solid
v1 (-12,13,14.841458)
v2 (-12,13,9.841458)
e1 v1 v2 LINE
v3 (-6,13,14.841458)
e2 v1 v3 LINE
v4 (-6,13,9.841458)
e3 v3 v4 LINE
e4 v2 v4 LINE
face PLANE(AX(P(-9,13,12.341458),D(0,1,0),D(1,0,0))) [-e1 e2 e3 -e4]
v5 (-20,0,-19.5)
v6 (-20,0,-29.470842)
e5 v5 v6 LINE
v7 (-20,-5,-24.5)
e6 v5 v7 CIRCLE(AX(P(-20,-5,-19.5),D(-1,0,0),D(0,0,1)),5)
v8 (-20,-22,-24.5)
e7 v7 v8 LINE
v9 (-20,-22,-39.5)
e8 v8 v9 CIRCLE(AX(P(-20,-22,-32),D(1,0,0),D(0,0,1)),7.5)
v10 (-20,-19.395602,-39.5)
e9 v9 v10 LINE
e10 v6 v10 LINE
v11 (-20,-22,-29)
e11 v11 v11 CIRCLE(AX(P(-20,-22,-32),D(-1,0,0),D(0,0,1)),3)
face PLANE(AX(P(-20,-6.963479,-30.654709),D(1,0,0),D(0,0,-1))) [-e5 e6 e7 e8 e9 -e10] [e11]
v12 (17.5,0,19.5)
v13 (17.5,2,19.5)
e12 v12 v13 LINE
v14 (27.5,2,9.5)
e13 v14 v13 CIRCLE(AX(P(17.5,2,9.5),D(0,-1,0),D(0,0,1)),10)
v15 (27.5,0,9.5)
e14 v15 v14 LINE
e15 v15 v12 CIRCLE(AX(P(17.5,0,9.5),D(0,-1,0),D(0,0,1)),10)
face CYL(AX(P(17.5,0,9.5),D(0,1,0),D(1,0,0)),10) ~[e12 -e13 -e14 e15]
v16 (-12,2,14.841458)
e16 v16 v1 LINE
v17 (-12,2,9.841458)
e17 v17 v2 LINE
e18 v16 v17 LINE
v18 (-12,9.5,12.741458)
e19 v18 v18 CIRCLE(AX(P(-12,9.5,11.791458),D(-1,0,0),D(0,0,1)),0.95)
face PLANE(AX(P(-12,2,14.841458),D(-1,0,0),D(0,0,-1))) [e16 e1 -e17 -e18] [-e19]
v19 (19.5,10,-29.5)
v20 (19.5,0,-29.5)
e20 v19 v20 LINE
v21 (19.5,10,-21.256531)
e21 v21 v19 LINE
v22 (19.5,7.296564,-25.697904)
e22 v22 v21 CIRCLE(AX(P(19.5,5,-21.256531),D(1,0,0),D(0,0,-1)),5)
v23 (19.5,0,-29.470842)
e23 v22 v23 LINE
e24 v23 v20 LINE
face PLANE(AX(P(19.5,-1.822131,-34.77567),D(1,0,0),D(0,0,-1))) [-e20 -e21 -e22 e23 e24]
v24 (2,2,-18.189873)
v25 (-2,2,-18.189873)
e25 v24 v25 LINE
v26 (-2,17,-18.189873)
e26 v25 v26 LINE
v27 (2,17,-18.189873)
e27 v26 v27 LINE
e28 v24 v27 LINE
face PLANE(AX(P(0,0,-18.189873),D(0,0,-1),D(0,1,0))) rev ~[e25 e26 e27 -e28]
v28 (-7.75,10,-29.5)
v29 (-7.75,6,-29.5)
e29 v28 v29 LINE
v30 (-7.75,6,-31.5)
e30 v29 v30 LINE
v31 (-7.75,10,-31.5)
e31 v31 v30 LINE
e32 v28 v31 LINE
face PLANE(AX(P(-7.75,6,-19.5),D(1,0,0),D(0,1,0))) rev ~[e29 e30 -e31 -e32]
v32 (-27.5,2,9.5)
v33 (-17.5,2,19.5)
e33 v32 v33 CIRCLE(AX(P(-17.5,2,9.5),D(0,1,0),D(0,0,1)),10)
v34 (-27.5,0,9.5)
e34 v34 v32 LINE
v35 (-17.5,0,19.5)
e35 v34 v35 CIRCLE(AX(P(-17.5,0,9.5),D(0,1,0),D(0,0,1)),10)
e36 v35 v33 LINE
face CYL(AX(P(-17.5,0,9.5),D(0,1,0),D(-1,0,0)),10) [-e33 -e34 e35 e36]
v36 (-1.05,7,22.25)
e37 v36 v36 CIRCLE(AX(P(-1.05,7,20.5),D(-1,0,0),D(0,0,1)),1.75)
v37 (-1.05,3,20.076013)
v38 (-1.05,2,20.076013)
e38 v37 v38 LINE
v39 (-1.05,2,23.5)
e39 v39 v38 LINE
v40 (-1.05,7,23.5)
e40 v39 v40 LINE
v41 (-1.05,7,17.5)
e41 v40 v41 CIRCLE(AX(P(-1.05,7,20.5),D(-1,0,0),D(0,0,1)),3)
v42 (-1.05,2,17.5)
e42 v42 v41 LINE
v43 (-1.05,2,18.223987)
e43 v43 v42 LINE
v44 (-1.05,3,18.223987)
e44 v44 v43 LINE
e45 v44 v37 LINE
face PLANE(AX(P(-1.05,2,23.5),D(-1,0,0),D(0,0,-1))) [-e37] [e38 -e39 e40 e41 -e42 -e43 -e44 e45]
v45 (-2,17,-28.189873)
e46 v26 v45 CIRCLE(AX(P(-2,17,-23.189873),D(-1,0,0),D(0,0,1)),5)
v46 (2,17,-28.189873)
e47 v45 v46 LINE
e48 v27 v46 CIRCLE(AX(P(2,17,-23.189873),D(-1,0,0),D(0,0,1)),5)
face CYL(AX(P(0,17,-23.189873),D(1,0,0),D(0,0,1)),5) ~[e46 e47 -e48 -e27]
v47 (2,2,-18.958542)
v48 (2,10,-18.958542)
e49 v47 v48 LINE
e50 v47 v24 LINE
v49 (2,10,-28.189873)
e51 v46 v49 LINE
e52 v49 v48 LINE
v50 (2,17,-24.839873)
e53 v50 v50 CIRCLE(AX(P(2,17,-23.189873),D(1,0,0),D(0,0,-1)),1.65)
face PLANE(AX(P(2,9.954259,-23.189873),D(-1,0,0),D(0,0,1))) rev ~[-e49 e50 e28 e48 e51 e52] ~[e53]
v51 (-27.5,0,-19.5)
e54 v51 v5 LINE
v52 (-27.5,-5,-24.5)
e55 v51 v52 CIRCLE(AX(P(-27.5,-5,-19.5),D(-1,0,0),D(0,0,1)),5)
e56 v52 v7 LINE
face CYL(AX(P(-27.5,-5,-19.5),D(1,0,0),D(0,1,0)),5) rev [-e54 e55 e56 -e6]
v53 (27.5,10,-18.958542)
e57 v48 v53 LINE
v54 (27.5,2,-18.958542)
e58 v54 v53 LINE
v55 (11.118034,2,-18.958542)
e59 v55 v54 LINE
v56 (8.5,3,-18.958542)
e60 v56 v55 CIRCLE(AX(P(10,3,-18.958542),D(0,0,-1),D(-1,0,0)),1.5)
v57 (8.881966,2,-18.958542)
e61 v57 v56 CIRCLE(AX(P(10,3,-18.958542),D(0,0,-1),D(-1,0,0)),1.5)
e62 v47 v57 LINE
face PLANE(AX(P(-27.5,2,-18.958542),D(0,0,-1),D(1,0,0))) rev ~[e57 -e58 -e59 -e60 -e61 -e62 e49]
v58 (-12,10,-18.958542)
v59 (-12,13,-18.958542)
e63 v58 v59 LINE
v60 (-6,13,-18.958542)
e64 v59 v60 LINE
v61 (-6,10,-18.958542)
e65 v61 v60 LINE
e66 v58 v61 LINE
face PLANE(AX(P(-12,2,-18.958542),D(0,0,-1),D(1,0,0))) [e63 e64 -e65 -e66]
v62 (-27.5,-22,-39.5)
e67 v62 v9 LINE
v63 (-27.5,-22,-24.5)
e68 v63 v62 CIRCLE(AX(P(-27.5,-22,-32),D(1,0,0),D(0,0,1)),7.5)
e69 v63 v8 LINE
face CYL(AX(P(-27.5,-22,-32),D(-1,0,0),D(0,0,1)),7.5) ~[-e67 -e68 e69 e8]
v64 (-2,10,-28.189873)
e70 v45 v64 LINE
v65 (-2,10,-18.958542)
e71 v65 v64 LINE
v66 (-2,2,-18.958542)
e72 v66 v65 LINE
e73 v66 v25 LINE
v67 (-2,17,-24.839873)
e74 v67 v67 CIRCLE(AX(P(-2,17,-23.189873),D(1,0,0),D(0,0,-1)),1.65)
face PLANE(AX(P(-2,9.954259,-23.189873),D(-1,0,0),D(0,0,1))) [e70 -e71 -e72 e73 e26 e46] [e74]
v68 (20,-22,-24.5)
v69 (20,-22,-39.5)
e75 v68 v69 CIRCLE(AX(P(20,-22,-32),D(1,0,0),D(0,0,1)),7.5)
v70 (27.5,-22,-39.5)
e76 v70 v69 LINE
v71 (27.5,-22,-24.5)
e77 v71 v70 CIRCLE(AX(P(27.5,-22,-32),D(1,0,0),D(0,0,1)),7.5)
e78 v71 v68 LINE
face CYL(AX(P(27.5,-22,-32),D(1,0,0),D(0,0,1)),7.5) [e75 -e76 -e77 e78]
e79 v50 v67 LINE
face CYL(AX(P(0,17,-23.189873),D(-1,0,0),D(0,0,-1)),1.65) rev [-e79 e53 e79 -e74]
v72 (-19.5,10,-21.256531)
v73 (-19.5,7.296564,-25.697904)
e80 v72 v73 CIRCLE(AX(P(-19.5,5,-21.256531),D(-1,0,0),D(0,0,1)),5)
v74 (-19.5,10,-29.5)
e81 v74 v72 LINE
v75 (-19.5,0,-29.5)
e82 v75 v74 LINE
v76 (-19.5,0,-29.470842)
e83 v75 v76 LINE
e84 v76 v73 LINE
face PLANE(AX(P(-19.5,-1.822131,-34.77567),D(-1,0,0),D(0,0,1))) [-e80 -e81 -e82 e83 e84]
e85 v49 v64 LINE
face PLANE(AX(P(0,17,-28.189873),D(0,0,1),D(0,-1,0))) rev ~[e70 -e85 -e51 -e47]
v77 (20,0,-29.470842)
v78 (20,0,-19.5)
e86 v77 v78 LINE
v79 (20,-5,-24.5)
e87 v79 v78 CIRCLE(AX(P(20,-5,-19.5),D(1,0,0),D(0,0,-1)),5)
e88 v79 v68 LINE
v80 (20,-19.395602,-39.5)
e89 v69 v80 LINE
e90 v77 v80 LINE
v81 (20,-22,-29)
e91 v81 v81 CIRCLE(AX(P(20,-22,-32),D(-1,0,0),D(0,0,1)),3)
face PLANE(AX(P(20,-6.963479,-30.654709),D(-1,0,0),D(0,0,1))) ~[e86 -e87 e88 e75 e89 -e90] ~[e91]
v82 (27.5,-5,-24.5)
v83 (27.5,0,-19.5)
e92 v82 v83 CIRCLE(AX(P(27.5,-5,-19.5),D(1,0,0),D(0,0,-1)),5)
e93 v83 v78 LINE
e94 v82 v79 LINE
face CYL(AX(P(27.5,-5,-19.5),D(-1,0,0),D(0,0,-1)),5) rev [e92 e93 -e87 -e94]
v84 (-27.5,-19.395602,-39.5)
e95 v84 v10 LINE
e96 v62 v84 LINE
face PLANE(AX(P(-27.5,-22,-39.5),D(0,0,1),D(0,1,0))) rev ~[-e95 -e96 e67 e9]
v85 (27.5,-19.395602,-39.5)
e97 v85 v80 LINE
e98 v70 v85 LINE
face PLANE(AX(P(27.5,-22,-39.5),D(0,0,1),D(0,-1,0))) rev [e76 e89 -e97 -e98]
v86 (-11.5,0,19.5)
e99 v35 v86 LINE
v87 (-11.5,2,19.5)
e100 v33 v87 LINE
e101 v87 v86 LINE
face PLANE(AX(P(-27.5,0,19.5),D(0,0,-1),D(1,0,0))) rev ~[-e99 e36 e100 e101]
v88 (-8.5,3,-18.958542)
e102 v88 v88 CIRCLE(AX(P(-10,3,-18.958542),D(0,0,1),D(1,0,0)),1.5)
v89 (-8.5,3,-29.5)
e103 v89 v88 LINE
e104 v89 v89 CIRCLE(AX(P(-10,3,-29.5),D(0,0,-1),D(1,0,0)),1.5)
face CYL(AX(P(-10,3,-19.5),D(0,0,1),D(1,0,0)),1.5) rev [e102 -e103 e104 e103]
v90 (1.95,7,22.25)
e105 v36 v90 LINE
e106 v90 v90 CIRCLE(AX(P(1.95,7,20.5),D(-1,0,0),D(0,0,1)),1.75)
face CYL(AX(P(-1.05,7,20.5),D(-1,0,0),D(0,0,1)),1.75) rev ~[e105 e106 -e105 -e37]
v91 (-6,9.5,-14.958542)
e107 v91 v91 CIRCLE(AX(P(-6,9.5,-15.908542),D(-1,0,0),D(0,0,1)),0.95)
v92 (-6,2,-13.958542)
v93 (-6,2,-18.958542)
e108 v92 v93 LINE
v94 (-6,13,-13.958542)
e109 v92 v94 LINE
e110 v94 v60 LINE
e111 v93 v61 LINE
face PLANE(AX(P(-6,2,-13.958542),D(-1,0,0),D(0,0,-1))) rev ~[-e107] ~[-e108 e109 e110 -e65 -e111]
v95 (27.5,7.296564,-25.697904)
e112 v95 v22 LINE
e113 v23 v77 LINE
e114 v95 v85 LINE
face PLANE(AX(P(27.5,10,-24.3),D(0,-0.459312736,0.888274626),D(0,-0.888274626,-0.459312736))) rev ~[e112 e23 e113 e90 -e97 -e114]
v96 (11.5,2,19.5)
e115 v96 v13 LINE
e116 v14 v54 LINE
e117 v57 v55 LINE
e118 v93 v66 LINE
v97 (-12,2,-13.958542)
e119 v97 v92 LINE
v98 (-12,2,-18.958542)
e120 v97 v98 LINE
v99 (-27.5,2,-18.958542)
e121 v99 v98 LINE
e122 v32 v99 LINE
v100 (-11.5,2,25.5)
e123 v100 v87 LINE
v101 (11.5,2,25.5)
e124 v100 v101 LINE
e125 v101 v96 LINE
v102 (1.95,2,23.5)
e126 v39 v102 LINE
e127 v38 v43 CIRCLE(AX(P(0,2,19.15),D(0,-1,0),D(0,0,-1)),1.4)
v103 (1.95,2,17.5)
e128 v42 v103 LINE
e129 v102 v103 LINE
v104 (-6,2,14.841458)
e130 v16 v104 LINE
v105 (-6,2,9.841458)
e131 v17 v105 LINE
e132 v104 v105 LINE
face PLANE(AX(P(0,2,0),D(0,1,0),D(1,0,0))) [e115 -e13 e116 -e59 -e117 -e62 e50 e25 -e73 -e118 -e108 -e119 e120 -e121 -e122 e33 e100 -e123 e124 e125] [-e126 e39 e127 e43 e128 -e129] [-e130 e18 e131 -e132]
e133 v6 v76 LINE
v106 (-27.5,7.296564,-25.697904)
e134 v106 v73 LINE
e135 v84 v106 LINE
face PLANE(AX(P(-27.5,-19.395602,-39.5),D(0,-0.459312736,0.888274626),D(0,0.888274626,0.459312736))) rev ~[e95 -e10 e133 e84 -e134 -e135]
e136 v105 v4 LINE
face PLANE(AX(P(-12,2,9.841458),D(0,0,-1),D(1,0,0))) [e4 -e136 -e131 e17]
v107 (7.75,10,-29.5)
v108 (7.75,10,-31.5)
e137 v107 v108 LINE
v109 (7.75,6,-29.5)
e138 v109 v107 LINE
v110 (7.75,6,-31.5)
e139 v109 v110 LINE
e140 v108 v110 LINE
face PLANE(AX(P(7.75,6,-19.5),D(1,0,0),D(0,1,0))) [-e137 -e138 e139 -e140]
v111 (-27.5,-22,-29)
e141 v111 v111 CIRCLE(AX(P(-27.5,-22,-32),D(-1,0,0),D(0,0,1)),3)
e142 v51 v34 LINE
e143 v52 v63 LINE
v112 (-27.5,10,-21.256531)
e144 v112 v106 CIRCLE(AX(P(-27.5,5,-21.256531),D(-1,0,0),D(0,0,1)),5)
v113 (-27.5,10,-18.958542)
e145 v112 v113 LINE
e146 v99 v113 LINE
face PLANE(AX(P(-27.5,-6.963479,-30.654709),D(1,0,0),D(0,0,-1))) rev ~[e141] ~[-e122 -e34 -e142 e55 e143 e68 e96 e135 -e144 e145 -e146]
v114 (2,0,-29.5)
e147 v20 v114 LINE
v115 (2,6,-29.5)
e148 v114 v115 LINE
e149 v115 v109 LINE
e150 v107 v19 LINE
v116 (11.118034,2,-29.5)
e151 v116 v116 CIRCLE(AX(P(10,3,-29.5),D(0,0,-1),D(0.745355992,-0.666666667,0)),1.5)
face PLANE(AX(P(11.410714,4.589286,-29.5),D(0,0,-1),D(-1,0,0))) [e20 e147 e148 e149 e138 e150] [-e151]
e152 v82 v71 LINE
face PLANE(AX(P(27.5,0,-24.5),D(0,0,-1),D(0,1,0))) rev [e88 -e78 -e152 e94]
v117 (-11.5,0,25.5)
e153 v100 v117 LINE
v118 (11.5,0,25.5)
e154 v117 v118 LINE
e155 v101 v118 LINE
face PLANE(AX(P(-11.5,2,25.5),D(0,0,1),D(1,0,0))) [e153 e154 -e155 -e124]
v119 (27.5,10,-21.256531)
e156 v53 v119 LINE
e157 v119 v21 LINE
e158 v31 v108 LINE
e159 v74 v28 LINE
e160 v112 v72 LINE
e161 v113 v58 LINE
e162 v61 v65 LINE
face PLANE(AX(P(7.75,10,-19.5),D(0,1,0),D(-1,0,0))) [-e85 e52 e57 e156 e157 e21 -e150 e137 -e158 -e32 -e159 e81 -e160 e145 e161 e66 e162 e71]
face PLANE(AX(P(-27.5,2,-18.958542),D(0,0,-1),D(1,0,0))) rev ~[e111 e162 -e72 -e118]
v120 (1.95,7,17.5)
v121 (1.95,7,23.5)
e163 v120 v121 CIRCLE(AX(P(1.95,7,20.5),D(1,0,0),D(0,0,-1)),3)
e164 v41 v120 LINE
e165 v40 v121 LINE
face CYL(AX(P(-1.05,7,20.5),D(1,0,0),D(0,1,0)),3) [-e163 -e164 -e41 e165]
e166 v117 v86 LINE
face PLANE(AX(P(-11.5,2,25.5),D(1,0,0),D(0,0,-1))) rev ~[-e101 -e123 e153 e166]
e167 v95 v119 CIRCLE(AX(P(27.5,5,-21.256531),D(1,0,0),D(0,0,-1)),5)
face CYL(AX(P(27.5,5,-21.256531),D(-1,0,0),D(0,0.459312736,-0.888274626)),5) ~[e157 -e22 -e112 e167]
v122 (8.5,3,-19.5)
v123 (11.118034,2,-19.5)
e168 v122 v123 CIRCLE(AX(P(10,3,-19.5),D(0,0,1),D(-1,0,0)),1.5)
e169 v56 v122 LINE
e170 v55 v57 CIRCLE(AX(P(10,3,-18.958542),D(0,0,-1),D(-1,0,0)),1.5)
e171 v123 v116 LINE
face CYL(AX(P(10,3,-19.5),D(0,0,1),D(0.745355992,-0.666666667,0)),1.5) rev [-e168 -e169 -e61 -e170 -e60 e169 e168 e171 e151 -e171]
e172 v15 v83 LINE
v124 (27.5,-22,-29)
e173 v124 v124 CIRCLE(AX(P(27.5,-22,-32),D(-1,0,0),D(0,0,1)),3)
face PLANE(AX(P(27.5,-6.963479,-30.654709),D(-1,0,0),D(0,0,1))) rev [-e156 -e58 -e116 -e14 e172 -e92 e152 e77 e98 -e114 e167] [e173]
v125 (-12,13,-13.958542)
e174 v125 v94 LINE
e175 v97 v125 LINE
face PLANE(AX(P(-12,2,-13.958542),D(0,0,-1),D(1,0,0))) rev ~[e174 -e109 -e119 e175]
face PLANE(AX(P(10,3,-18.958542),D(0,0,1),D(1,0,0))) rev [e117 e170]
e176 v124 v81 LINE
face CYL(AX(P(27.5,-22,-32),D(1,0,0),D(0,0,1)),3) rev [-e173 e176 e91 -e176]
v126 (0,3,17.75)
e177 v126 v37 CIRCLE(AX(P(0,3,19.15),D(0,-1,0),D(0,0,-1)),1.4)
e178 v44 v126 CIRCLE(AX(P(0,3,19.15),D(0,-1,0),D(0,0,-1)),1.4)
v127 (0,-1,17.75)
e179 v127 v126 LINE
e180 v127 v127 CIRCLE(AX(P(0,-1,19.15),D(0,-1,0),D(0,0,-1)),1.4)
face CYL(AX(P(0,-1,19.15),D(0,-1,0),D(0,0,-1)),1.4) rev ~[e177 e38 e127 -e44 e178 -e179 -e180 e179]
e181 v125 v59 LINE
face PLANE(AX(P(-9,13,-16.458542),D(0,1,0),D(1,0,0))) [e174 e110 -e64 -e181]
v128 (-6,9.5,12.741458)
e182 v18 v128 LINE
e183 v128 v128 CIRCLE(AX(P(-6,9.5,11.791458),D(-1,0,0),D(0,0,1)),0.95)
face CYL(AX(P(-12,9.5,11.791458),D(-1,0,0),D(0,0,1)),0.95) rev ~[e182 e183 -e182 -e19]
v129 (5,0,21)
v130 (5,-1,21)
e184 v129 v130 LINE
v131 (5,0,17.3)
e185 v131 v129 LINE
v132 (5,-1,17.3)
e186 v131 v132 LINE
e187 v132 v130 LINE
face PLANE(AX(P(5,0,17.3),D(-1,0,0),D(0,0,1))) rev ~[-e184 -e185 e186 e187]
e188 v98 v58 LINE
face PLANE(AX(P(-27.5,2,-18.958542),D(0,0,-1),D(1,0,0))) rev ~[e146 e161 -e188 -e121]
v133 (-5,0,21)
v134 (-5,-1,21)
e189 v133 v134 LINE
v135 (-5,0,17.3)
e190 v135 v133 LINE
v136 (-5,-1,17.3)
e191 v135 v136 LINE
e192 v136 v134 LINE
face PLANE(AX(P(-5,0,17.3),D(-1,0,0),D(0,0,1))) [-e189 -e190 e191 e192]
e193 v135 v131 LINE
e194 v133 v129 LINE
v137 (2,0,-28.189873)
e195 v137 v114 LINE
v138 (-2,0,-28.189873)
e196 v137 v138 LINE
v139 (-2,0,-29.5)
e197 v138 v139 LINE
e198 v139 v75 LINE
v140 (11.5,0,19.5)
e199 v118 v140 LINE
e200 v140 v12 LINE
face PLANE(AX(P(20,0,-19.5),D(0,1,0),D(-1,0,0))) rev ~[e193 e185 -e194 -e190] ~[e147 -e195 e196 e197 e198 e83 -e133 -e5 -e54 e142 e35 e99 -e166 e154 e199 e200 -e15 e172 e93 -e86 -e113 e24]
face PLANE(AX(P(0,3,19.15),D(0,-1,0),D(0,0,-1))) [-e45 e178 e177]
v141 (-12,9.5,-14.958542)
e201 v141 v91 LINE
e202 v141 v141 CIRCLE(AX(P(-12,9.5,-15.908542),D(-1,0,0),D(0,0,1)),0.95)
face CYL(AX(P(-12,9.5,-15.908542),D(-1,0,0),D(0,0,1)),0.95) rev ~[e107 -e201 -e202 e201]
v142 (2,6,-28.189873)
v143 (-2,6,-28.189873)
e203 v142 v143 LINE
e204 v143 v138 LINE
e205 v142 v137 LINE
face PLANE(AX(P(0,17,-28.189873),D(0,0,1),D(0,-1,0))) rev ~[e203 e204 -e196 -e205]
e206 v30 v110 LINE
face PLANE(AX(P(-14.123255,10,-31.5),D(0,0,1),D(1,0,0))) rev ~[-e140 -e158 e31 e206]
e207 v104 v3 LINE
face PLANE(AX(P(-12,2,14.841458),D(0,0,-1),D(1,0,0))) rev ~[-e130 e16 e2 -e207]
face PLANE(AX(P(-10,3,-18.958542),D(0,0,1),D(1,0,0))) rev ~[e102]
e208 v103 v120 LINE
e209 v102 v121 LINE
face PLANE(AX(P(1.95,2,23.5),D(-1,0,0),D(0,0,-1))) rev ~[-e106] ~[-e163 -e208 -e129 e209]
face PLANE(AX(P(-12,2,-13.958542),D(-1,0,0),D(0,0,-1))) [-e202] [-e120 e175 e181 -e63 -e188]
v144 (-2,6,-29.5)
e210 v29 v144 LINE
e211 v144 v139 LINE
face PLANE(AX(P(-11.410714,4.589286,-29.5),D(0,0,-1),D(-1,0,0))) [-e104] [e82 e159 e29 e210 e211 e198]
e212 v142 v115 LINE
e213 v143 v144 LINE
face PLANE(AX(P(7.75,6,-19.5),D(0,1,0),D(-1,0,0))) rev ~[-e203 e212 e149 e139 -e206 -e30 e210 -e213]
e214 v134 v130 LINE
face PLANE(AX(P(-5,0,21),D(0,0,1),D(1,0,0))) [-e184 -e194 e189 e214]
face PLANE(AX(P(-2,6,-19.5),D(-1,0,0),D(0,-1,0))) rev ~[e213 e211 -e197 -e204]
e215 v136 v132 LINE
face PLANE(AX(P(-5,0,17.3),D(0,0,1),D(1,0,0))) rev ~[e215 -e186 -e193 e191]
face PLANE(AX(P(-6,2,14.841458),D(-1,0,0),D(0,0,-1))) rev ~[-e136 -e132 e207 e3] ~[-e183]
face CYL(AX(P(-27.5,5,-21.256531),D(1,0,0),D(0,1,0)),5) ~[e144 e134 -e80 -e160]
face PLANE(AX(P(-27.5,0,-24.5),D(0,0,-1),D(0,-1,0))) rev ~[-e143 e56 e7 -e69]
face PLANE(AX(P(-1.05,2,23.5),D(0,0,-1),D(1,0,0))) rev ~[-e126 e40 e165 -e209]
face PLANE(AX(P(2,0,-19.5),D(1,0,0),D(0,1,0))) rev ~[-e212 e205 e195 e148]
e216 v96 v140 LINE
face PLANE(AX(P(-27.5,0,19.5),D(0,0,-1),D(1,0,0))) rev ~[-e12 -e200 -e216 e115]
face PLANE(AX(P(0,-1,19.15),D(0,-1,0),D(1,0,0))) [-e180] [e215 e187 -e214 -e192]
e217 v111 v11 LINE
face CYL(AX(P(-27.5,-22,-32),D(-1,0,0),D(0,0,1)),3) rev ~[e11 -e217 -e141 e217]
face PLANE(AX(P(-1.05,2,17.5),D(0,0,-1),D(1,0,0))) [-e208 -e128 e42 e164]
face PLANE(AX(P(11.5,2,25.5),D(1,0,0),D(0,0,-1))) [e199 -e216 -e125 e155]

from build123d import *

# Parameters (mm, degrees)
SKETCH_1_W          = 55
SKETCH_1_H          = 39
EXTRUDE_1_DEPTH     = 2
SKETCH_2_W          = 23
SKETCH_2_H          = 6
EXTRUDE_2_DEPTH     = 2
SKETCH_3_W          = 6
SKETCH_3_H          = 5
EXTRUDE_3_DEPTH     = 11
SKETCH_5_R          = 0.95
CUT_EXTRUDE_1_DEPTH = 11
SKETCH_6_W          = 55
SKETCH_6_H          = 0.541458129
EXTRUDE_4_DEPTH     = 8
SKETCH_8_R          = 1.65
EXTRUDE_6_DEPTH     = 2
SKETCH_10_W         = 3
SKETCH_10_H         = 6
EXTRUDE_7_DEPTH     = 8
SKETCH_11_R         = 1.5
CUT_EXTRUDE_3_DEPTH = 13
SKETCH_12_R         = 3
EXTRUDE_8_DEPTH     = 7.5
SKETCH_13_W         = 10
SKETCH_13_H         = 3.7
EXTRUDE_9_DEPTH     = 1
FILLET_3_RADIUS     = 3
FILLET_3_LENGTH     = 3
SKETCH_15_R         = 1.75
CUT_EXTRUDE_5_DEPTH = 23
SKETCH_16_W         = 15.5
SKETCH_16_H         = 4
EXTRUDE_10_DEPTH    = 20
SKETCH_17_R         = 1.5
EXTRUDE_11_DEPTH    = 10
FILLET_4_R          = 10
SKETCH_18_W         = 26.564734734
SKETCH_18_H         = 10.454508508
CUT_EXTRUDE_6_DEPTH = 10
CUT_EXTRUDE_7_DEPTH = 8
CUT_EXTRUDE_8_DEPTH = 8
FILLET_6_R          = 5
SKETCH_21_R         = 1.4
CUT_EXTRUDE_9_DEPTH = 4
FILLET_7_R          = 10


with BuildPart() as part:
    # 草图1 → 凸台-拉伸1 (new body)
    with BuildSketch(Plane(origin=(0, 0, 0), x_dir=(1, 0, 0), z_dir=(0, 1, 0))):
        Rectangle(SKETCH_1_W, SKETCH_1_H)
    extrude(amount=EXTRUDE_1_DEPTH)

    # 草图2 → 凸台-拉伸2 (add)
    with BuildSketch(Plane(origin=(0, 2, 0), x_dir=(1, 0, 0), z_dir=(0, 1, 0))):
        with Locations((0, -22.5)):
            Rectangle(SKETCH_2_W, SKETCH_2_H)
    extrude(amount=-EXTRUDE_2_DEPTH)

    # 草图3 → 凸台-拉伸3 (add)
    with BuildSketch(Plane(origin=(0, 2, 0), x_dir=(1, 0, 0), z_dir=(0, 1, 0))):
        with Locations((-9, -12.341458129)):
            Rectangle(SKETCH_3_W, SKETCH_3_H)
        with Locations((-9, 16.458541871)):
            Rectangle(SKETCH_3_W, SKETCH_3_H)
    extrude(amount=EXTRUDE_3_DEPTH)

    # 草图5 → 切除-拉伸1 (cut)
    with BuildSketch(Plane.ZY.offset(12)):
        with Locations((-15.908541871, 9.5)):
            Circle(SKETCH_5_R)
        with Locations((11.791458129, 9.5)):
            Circle(SKETCH_5_R)
    extrude(amount=-CUT_EXTRUDE_1_DEPTH, mode=Mode.SUBTRACT)

    # 草图6 → 凸台-拉伸4 (add)
    with BuildSketch(Plane(origin=(0, 2, 0), x_dir=(1, 0, 0), z_dir=(0, 1, 0))):
        with Locations((0, 19.229270936)):
            Rectangle(SKETCH_6_W, SKETCH_6_H)
    extrude(amount=EXTRUDE_4_DEPTH)

    # 草图8 → 凸台-拉伸6 (add, symmetric)
    with BuildSketch(Plane(origin=(0, 0, 0), x_dir=(0, 0, -1), z_dir=(1, 0, 0))):
        with BuildLine():
            Line((28.189872998, 17), (28.189872998, 0))
            Line((28.189872998, 0), (18.189872998, 0))
            Line((18.189872998, 0), (18.189872998, 17))
            ThreePointArc((18.189872998, 17), (23.189872998, 22), (28.189872998, 17))
        make_face()
        with Locations((23.189872998, 17)):
            Circle(SKETCH_8_R, mode=Mode.SUBTRACT)
    extrude(amount=EXTRUDE_6_DEPTH, both=True)

    # 草图10 → 凸台-拉伸7 (add)
    with BuildSketch(Plane(origin=(0, 2, 0), x_dir=(1, 0, 0), z_dir=(0, 1, 0))):
        with Locations((0.45, -20.5)):
            Rectangle(SKETCH_10_W, SKETCH_10_H)
    extrude(amount=EXTRUDE_7_DEPTH)

    # 草图11 → 切除-拉伸3 (cut)
    with BuildSketch(Plane.XY.offset(-18.958541871)):
        with Locations((-10, 3)):
            Circle(SKETCH_11_R)
    cut_extrude_3 = extrude(amount=-CUT_EXTRUDE_3_DEPTH, mode=Mode.SUBTRACT)

    # 草图12 → 凸台-拉伸8 (add)
    with BuildSketch(Plane.ZY.offset(27.5)):
        with BuildLine():
            Line((-39.5, -22), (-39.5, 10))
            Line((-39.5, 10), (-19.5, 10))
            Line((-19.5, 10), (-19.5, 0))
            Line((-19.5, 0), (-24.5, 0))
            Line((-24.5, 0), (-24.5, -22))
            ThreePointArc((-24.5, -22), (-32, -29.5), (-39.5, -22))
        make_face()
        with Locations((-32, -22)):
            Circle(SKETCH_12_R, mode=Mode.SUBTRACT)
    extrude_8 = extrude(amount=-EXTRUDE_8_DEPTH)

    # 草图13 → 凸台-拉伸9 (add)
    with BuildSketch(Plane.XZ):
        with Locations((0, 19.15)):
            Rectangle(SKETCH_13_W, SKETCH_13_H)
    extrude(amount=EXTRUDE_9_DEPTH)

    # 镜向1: 切除-拉伸3, 凸台-拉伸8 across plane
    add(cut_extrude_3.mirror(Plane(origin=(0, 0, 0), x_dir=(0, 0, 1), z_dir=(1, 0, 0))), mode=Mode.SUBTRACT)
    add(extrude_8.mirror(Plane(origin=(0, 0, 0), x_dir=(0, 0, 1), z_dir=(1, 0, 0))))

    # 圆角3: full round fillet: the end face becomes a half cylinder, R = half its width
    fillet_3_face = Plane((0.45, 10, 20.5), x_dir=(1, 0, 0), z_dir=(0, 1, 0))  # on the end face: x along it, z out of the body
    fillet_3_slab = fillet_3_face.offset(-FILLET_3_RADIUS / 2) * Box(FILLET_3_LENGTH, 2 * FILLET_3_RADIUS, FILLET_3_RADIUS, mode=Mode.PRIVATE)  # the body's end, R deep
    fillet_3_round = Plane((0.45, 7, 20.5), x_dir=(0, 1, 0), z_dir=(1, 0, 0)) * Cylinder(FILLET_3_RADIUS, FILLET_3_LENGTH, mode=Mode.PRIVATE)  # its axis R under the face
    add(fillet_3_slab - fillet_3_round, mode=Mode.SUBTRACT)

    # 草图15 → 切除-拉伸5 (cut)
    with BuildSketch(Plane.ZY.offset(1.05)):
        with Locations((20.5, 7)):
            Circle(SKETCH_15_R)
    extrude(amount=-CUT_EXTRUDE_5_DEPTH, mode=Mode.SUBTRACT)

    # 草图16 → 凸台-拉伸10 (add)
    with BuildSketch(Plane(origin=(0, 0, -19.5), x_dir=(-1, 0, 0), z_dir=(0, 0, -1))):
        with Locations((0, 8)):
            Rectangle(SKETCH_16_W, SKETCH_16_H)
    extrude(amount=EXTRUDE_10_DEPTH)

    # 草图17 → 凸台-拉伸11 (add)
    # profile 1 of 2: a face of its own
    with BuildSketch(Plane(origin=(0, 0, -19.5), x_dir=(-1, 0, 0), z_dir=(0, 0, -1))):
        Polygon((-20, 0), (-2, 0), (-2, 6), (-7.75, 6), (-7.75, 10), (-20, 10), align=None)
        with Locations(Location((-10, 3, 0), (0, 0, 221.810314896))):
            Circle(SKETCH_17_R, mode=Mode.SUBTRACT)
    # profile 2 of 2: a face of its own
    with BuildSketch(Plane(origin=(0, 0, -19.5), x_dir=(-1, 0, 0), z_dir=(0, 0, -1))):
        Polygon((7.75, 6), (2, 6), (2, 0), (20, 0), (20, 10), (7.75, 10), align=None)
        with Locations(Location((10, 3, 0), (0, 0, 180))):
            Circle(SKETCH_17_R, mode=Mode.SUBTRACT)
    extrude(amount=EXTRUDE_11_DEPTH)

    # 圆角4
    fillet_4_edges = [part.edges().sort_by_distance(p)[0] for p in [
        (23.75, 10, -39.5),
        (-23.75, 10, -39.5),
    ]]
    fillet(fillet_4_edges, radius=FILLET_4_R)

    # 草图18 → 切除-拉伸6 (cut)
    with BuildSketch(Plane(origin=(0, 10, 0), x_dir=(1, 0, 0), z_dir=(0, 1, 0))):
        with Locations((-0.840887807, 36.727254254)):
            Rectangle(SKETCH_18_W, SKETCH_18_H)
    extrude(amount=-CUT_EXTRUDE_6_DEPTH, mode=Mode.SUBTRACT)

    # 草图19 → 切除-拉伸7 (cut)
    with BuildSketch(Plane(origin=(27.5, 0, 0), x_dir=(0, 0, -1), z_dir=(1, 0, 0))):
        Polygon((24.3, 10), (39.5, -19.395601839), (39.5, 10), align=None)
    extrude(amount=-CUT_EXTRUDE_7_DEPTH, mode=Mode.SUBTRACT)

    # 草图20 → 切除-拉伸8 (cut)
    with BuildSketch(Plane.ZY.offset(27.5)):
        Polygon((-24.3, 10), (-39.5, 10), (-39.5, -19.395601839), align=None)
    extrude(amount=-CUT_EXTRUDE_8_DEPTH, mode=Mode.SUBTRACT)

    # 圆角6
    fillet_6_edges = [part.edges().sort_by_distance(p)[0] for p in [
        (-23.75, 0, -24.5),
        (23.75, 0, -24.5),
        (23.5, 10, -24.3),
        (-23.5, 10, -24.3),
    ]]
    fillet(fillet_6_edges, radius=FILLET_6_R)

    # 草图21 → 切除-拉伸9 (cut)
    with BuildSketch(Plane.XZ.offset(1)):
        with Locations(Location((0, 19.15, 0), (0, 0, 270))):
            Circle(SKETCH_21_R)
    extrude(amount=-CUT_EXTRUDE_9_DEPTH, mode=Mode.SUBTRACT)

    # 圆角7
    fillet_7_edges = [part.edges().sort_by_distance(p)[0] for p in [
        (27.5, 1, 19.5),
        (-27.5, 1, 19.5),
    ]]
    fillet(fillet_7_edges, radius=FILLET_7_R)


solid = part.part
